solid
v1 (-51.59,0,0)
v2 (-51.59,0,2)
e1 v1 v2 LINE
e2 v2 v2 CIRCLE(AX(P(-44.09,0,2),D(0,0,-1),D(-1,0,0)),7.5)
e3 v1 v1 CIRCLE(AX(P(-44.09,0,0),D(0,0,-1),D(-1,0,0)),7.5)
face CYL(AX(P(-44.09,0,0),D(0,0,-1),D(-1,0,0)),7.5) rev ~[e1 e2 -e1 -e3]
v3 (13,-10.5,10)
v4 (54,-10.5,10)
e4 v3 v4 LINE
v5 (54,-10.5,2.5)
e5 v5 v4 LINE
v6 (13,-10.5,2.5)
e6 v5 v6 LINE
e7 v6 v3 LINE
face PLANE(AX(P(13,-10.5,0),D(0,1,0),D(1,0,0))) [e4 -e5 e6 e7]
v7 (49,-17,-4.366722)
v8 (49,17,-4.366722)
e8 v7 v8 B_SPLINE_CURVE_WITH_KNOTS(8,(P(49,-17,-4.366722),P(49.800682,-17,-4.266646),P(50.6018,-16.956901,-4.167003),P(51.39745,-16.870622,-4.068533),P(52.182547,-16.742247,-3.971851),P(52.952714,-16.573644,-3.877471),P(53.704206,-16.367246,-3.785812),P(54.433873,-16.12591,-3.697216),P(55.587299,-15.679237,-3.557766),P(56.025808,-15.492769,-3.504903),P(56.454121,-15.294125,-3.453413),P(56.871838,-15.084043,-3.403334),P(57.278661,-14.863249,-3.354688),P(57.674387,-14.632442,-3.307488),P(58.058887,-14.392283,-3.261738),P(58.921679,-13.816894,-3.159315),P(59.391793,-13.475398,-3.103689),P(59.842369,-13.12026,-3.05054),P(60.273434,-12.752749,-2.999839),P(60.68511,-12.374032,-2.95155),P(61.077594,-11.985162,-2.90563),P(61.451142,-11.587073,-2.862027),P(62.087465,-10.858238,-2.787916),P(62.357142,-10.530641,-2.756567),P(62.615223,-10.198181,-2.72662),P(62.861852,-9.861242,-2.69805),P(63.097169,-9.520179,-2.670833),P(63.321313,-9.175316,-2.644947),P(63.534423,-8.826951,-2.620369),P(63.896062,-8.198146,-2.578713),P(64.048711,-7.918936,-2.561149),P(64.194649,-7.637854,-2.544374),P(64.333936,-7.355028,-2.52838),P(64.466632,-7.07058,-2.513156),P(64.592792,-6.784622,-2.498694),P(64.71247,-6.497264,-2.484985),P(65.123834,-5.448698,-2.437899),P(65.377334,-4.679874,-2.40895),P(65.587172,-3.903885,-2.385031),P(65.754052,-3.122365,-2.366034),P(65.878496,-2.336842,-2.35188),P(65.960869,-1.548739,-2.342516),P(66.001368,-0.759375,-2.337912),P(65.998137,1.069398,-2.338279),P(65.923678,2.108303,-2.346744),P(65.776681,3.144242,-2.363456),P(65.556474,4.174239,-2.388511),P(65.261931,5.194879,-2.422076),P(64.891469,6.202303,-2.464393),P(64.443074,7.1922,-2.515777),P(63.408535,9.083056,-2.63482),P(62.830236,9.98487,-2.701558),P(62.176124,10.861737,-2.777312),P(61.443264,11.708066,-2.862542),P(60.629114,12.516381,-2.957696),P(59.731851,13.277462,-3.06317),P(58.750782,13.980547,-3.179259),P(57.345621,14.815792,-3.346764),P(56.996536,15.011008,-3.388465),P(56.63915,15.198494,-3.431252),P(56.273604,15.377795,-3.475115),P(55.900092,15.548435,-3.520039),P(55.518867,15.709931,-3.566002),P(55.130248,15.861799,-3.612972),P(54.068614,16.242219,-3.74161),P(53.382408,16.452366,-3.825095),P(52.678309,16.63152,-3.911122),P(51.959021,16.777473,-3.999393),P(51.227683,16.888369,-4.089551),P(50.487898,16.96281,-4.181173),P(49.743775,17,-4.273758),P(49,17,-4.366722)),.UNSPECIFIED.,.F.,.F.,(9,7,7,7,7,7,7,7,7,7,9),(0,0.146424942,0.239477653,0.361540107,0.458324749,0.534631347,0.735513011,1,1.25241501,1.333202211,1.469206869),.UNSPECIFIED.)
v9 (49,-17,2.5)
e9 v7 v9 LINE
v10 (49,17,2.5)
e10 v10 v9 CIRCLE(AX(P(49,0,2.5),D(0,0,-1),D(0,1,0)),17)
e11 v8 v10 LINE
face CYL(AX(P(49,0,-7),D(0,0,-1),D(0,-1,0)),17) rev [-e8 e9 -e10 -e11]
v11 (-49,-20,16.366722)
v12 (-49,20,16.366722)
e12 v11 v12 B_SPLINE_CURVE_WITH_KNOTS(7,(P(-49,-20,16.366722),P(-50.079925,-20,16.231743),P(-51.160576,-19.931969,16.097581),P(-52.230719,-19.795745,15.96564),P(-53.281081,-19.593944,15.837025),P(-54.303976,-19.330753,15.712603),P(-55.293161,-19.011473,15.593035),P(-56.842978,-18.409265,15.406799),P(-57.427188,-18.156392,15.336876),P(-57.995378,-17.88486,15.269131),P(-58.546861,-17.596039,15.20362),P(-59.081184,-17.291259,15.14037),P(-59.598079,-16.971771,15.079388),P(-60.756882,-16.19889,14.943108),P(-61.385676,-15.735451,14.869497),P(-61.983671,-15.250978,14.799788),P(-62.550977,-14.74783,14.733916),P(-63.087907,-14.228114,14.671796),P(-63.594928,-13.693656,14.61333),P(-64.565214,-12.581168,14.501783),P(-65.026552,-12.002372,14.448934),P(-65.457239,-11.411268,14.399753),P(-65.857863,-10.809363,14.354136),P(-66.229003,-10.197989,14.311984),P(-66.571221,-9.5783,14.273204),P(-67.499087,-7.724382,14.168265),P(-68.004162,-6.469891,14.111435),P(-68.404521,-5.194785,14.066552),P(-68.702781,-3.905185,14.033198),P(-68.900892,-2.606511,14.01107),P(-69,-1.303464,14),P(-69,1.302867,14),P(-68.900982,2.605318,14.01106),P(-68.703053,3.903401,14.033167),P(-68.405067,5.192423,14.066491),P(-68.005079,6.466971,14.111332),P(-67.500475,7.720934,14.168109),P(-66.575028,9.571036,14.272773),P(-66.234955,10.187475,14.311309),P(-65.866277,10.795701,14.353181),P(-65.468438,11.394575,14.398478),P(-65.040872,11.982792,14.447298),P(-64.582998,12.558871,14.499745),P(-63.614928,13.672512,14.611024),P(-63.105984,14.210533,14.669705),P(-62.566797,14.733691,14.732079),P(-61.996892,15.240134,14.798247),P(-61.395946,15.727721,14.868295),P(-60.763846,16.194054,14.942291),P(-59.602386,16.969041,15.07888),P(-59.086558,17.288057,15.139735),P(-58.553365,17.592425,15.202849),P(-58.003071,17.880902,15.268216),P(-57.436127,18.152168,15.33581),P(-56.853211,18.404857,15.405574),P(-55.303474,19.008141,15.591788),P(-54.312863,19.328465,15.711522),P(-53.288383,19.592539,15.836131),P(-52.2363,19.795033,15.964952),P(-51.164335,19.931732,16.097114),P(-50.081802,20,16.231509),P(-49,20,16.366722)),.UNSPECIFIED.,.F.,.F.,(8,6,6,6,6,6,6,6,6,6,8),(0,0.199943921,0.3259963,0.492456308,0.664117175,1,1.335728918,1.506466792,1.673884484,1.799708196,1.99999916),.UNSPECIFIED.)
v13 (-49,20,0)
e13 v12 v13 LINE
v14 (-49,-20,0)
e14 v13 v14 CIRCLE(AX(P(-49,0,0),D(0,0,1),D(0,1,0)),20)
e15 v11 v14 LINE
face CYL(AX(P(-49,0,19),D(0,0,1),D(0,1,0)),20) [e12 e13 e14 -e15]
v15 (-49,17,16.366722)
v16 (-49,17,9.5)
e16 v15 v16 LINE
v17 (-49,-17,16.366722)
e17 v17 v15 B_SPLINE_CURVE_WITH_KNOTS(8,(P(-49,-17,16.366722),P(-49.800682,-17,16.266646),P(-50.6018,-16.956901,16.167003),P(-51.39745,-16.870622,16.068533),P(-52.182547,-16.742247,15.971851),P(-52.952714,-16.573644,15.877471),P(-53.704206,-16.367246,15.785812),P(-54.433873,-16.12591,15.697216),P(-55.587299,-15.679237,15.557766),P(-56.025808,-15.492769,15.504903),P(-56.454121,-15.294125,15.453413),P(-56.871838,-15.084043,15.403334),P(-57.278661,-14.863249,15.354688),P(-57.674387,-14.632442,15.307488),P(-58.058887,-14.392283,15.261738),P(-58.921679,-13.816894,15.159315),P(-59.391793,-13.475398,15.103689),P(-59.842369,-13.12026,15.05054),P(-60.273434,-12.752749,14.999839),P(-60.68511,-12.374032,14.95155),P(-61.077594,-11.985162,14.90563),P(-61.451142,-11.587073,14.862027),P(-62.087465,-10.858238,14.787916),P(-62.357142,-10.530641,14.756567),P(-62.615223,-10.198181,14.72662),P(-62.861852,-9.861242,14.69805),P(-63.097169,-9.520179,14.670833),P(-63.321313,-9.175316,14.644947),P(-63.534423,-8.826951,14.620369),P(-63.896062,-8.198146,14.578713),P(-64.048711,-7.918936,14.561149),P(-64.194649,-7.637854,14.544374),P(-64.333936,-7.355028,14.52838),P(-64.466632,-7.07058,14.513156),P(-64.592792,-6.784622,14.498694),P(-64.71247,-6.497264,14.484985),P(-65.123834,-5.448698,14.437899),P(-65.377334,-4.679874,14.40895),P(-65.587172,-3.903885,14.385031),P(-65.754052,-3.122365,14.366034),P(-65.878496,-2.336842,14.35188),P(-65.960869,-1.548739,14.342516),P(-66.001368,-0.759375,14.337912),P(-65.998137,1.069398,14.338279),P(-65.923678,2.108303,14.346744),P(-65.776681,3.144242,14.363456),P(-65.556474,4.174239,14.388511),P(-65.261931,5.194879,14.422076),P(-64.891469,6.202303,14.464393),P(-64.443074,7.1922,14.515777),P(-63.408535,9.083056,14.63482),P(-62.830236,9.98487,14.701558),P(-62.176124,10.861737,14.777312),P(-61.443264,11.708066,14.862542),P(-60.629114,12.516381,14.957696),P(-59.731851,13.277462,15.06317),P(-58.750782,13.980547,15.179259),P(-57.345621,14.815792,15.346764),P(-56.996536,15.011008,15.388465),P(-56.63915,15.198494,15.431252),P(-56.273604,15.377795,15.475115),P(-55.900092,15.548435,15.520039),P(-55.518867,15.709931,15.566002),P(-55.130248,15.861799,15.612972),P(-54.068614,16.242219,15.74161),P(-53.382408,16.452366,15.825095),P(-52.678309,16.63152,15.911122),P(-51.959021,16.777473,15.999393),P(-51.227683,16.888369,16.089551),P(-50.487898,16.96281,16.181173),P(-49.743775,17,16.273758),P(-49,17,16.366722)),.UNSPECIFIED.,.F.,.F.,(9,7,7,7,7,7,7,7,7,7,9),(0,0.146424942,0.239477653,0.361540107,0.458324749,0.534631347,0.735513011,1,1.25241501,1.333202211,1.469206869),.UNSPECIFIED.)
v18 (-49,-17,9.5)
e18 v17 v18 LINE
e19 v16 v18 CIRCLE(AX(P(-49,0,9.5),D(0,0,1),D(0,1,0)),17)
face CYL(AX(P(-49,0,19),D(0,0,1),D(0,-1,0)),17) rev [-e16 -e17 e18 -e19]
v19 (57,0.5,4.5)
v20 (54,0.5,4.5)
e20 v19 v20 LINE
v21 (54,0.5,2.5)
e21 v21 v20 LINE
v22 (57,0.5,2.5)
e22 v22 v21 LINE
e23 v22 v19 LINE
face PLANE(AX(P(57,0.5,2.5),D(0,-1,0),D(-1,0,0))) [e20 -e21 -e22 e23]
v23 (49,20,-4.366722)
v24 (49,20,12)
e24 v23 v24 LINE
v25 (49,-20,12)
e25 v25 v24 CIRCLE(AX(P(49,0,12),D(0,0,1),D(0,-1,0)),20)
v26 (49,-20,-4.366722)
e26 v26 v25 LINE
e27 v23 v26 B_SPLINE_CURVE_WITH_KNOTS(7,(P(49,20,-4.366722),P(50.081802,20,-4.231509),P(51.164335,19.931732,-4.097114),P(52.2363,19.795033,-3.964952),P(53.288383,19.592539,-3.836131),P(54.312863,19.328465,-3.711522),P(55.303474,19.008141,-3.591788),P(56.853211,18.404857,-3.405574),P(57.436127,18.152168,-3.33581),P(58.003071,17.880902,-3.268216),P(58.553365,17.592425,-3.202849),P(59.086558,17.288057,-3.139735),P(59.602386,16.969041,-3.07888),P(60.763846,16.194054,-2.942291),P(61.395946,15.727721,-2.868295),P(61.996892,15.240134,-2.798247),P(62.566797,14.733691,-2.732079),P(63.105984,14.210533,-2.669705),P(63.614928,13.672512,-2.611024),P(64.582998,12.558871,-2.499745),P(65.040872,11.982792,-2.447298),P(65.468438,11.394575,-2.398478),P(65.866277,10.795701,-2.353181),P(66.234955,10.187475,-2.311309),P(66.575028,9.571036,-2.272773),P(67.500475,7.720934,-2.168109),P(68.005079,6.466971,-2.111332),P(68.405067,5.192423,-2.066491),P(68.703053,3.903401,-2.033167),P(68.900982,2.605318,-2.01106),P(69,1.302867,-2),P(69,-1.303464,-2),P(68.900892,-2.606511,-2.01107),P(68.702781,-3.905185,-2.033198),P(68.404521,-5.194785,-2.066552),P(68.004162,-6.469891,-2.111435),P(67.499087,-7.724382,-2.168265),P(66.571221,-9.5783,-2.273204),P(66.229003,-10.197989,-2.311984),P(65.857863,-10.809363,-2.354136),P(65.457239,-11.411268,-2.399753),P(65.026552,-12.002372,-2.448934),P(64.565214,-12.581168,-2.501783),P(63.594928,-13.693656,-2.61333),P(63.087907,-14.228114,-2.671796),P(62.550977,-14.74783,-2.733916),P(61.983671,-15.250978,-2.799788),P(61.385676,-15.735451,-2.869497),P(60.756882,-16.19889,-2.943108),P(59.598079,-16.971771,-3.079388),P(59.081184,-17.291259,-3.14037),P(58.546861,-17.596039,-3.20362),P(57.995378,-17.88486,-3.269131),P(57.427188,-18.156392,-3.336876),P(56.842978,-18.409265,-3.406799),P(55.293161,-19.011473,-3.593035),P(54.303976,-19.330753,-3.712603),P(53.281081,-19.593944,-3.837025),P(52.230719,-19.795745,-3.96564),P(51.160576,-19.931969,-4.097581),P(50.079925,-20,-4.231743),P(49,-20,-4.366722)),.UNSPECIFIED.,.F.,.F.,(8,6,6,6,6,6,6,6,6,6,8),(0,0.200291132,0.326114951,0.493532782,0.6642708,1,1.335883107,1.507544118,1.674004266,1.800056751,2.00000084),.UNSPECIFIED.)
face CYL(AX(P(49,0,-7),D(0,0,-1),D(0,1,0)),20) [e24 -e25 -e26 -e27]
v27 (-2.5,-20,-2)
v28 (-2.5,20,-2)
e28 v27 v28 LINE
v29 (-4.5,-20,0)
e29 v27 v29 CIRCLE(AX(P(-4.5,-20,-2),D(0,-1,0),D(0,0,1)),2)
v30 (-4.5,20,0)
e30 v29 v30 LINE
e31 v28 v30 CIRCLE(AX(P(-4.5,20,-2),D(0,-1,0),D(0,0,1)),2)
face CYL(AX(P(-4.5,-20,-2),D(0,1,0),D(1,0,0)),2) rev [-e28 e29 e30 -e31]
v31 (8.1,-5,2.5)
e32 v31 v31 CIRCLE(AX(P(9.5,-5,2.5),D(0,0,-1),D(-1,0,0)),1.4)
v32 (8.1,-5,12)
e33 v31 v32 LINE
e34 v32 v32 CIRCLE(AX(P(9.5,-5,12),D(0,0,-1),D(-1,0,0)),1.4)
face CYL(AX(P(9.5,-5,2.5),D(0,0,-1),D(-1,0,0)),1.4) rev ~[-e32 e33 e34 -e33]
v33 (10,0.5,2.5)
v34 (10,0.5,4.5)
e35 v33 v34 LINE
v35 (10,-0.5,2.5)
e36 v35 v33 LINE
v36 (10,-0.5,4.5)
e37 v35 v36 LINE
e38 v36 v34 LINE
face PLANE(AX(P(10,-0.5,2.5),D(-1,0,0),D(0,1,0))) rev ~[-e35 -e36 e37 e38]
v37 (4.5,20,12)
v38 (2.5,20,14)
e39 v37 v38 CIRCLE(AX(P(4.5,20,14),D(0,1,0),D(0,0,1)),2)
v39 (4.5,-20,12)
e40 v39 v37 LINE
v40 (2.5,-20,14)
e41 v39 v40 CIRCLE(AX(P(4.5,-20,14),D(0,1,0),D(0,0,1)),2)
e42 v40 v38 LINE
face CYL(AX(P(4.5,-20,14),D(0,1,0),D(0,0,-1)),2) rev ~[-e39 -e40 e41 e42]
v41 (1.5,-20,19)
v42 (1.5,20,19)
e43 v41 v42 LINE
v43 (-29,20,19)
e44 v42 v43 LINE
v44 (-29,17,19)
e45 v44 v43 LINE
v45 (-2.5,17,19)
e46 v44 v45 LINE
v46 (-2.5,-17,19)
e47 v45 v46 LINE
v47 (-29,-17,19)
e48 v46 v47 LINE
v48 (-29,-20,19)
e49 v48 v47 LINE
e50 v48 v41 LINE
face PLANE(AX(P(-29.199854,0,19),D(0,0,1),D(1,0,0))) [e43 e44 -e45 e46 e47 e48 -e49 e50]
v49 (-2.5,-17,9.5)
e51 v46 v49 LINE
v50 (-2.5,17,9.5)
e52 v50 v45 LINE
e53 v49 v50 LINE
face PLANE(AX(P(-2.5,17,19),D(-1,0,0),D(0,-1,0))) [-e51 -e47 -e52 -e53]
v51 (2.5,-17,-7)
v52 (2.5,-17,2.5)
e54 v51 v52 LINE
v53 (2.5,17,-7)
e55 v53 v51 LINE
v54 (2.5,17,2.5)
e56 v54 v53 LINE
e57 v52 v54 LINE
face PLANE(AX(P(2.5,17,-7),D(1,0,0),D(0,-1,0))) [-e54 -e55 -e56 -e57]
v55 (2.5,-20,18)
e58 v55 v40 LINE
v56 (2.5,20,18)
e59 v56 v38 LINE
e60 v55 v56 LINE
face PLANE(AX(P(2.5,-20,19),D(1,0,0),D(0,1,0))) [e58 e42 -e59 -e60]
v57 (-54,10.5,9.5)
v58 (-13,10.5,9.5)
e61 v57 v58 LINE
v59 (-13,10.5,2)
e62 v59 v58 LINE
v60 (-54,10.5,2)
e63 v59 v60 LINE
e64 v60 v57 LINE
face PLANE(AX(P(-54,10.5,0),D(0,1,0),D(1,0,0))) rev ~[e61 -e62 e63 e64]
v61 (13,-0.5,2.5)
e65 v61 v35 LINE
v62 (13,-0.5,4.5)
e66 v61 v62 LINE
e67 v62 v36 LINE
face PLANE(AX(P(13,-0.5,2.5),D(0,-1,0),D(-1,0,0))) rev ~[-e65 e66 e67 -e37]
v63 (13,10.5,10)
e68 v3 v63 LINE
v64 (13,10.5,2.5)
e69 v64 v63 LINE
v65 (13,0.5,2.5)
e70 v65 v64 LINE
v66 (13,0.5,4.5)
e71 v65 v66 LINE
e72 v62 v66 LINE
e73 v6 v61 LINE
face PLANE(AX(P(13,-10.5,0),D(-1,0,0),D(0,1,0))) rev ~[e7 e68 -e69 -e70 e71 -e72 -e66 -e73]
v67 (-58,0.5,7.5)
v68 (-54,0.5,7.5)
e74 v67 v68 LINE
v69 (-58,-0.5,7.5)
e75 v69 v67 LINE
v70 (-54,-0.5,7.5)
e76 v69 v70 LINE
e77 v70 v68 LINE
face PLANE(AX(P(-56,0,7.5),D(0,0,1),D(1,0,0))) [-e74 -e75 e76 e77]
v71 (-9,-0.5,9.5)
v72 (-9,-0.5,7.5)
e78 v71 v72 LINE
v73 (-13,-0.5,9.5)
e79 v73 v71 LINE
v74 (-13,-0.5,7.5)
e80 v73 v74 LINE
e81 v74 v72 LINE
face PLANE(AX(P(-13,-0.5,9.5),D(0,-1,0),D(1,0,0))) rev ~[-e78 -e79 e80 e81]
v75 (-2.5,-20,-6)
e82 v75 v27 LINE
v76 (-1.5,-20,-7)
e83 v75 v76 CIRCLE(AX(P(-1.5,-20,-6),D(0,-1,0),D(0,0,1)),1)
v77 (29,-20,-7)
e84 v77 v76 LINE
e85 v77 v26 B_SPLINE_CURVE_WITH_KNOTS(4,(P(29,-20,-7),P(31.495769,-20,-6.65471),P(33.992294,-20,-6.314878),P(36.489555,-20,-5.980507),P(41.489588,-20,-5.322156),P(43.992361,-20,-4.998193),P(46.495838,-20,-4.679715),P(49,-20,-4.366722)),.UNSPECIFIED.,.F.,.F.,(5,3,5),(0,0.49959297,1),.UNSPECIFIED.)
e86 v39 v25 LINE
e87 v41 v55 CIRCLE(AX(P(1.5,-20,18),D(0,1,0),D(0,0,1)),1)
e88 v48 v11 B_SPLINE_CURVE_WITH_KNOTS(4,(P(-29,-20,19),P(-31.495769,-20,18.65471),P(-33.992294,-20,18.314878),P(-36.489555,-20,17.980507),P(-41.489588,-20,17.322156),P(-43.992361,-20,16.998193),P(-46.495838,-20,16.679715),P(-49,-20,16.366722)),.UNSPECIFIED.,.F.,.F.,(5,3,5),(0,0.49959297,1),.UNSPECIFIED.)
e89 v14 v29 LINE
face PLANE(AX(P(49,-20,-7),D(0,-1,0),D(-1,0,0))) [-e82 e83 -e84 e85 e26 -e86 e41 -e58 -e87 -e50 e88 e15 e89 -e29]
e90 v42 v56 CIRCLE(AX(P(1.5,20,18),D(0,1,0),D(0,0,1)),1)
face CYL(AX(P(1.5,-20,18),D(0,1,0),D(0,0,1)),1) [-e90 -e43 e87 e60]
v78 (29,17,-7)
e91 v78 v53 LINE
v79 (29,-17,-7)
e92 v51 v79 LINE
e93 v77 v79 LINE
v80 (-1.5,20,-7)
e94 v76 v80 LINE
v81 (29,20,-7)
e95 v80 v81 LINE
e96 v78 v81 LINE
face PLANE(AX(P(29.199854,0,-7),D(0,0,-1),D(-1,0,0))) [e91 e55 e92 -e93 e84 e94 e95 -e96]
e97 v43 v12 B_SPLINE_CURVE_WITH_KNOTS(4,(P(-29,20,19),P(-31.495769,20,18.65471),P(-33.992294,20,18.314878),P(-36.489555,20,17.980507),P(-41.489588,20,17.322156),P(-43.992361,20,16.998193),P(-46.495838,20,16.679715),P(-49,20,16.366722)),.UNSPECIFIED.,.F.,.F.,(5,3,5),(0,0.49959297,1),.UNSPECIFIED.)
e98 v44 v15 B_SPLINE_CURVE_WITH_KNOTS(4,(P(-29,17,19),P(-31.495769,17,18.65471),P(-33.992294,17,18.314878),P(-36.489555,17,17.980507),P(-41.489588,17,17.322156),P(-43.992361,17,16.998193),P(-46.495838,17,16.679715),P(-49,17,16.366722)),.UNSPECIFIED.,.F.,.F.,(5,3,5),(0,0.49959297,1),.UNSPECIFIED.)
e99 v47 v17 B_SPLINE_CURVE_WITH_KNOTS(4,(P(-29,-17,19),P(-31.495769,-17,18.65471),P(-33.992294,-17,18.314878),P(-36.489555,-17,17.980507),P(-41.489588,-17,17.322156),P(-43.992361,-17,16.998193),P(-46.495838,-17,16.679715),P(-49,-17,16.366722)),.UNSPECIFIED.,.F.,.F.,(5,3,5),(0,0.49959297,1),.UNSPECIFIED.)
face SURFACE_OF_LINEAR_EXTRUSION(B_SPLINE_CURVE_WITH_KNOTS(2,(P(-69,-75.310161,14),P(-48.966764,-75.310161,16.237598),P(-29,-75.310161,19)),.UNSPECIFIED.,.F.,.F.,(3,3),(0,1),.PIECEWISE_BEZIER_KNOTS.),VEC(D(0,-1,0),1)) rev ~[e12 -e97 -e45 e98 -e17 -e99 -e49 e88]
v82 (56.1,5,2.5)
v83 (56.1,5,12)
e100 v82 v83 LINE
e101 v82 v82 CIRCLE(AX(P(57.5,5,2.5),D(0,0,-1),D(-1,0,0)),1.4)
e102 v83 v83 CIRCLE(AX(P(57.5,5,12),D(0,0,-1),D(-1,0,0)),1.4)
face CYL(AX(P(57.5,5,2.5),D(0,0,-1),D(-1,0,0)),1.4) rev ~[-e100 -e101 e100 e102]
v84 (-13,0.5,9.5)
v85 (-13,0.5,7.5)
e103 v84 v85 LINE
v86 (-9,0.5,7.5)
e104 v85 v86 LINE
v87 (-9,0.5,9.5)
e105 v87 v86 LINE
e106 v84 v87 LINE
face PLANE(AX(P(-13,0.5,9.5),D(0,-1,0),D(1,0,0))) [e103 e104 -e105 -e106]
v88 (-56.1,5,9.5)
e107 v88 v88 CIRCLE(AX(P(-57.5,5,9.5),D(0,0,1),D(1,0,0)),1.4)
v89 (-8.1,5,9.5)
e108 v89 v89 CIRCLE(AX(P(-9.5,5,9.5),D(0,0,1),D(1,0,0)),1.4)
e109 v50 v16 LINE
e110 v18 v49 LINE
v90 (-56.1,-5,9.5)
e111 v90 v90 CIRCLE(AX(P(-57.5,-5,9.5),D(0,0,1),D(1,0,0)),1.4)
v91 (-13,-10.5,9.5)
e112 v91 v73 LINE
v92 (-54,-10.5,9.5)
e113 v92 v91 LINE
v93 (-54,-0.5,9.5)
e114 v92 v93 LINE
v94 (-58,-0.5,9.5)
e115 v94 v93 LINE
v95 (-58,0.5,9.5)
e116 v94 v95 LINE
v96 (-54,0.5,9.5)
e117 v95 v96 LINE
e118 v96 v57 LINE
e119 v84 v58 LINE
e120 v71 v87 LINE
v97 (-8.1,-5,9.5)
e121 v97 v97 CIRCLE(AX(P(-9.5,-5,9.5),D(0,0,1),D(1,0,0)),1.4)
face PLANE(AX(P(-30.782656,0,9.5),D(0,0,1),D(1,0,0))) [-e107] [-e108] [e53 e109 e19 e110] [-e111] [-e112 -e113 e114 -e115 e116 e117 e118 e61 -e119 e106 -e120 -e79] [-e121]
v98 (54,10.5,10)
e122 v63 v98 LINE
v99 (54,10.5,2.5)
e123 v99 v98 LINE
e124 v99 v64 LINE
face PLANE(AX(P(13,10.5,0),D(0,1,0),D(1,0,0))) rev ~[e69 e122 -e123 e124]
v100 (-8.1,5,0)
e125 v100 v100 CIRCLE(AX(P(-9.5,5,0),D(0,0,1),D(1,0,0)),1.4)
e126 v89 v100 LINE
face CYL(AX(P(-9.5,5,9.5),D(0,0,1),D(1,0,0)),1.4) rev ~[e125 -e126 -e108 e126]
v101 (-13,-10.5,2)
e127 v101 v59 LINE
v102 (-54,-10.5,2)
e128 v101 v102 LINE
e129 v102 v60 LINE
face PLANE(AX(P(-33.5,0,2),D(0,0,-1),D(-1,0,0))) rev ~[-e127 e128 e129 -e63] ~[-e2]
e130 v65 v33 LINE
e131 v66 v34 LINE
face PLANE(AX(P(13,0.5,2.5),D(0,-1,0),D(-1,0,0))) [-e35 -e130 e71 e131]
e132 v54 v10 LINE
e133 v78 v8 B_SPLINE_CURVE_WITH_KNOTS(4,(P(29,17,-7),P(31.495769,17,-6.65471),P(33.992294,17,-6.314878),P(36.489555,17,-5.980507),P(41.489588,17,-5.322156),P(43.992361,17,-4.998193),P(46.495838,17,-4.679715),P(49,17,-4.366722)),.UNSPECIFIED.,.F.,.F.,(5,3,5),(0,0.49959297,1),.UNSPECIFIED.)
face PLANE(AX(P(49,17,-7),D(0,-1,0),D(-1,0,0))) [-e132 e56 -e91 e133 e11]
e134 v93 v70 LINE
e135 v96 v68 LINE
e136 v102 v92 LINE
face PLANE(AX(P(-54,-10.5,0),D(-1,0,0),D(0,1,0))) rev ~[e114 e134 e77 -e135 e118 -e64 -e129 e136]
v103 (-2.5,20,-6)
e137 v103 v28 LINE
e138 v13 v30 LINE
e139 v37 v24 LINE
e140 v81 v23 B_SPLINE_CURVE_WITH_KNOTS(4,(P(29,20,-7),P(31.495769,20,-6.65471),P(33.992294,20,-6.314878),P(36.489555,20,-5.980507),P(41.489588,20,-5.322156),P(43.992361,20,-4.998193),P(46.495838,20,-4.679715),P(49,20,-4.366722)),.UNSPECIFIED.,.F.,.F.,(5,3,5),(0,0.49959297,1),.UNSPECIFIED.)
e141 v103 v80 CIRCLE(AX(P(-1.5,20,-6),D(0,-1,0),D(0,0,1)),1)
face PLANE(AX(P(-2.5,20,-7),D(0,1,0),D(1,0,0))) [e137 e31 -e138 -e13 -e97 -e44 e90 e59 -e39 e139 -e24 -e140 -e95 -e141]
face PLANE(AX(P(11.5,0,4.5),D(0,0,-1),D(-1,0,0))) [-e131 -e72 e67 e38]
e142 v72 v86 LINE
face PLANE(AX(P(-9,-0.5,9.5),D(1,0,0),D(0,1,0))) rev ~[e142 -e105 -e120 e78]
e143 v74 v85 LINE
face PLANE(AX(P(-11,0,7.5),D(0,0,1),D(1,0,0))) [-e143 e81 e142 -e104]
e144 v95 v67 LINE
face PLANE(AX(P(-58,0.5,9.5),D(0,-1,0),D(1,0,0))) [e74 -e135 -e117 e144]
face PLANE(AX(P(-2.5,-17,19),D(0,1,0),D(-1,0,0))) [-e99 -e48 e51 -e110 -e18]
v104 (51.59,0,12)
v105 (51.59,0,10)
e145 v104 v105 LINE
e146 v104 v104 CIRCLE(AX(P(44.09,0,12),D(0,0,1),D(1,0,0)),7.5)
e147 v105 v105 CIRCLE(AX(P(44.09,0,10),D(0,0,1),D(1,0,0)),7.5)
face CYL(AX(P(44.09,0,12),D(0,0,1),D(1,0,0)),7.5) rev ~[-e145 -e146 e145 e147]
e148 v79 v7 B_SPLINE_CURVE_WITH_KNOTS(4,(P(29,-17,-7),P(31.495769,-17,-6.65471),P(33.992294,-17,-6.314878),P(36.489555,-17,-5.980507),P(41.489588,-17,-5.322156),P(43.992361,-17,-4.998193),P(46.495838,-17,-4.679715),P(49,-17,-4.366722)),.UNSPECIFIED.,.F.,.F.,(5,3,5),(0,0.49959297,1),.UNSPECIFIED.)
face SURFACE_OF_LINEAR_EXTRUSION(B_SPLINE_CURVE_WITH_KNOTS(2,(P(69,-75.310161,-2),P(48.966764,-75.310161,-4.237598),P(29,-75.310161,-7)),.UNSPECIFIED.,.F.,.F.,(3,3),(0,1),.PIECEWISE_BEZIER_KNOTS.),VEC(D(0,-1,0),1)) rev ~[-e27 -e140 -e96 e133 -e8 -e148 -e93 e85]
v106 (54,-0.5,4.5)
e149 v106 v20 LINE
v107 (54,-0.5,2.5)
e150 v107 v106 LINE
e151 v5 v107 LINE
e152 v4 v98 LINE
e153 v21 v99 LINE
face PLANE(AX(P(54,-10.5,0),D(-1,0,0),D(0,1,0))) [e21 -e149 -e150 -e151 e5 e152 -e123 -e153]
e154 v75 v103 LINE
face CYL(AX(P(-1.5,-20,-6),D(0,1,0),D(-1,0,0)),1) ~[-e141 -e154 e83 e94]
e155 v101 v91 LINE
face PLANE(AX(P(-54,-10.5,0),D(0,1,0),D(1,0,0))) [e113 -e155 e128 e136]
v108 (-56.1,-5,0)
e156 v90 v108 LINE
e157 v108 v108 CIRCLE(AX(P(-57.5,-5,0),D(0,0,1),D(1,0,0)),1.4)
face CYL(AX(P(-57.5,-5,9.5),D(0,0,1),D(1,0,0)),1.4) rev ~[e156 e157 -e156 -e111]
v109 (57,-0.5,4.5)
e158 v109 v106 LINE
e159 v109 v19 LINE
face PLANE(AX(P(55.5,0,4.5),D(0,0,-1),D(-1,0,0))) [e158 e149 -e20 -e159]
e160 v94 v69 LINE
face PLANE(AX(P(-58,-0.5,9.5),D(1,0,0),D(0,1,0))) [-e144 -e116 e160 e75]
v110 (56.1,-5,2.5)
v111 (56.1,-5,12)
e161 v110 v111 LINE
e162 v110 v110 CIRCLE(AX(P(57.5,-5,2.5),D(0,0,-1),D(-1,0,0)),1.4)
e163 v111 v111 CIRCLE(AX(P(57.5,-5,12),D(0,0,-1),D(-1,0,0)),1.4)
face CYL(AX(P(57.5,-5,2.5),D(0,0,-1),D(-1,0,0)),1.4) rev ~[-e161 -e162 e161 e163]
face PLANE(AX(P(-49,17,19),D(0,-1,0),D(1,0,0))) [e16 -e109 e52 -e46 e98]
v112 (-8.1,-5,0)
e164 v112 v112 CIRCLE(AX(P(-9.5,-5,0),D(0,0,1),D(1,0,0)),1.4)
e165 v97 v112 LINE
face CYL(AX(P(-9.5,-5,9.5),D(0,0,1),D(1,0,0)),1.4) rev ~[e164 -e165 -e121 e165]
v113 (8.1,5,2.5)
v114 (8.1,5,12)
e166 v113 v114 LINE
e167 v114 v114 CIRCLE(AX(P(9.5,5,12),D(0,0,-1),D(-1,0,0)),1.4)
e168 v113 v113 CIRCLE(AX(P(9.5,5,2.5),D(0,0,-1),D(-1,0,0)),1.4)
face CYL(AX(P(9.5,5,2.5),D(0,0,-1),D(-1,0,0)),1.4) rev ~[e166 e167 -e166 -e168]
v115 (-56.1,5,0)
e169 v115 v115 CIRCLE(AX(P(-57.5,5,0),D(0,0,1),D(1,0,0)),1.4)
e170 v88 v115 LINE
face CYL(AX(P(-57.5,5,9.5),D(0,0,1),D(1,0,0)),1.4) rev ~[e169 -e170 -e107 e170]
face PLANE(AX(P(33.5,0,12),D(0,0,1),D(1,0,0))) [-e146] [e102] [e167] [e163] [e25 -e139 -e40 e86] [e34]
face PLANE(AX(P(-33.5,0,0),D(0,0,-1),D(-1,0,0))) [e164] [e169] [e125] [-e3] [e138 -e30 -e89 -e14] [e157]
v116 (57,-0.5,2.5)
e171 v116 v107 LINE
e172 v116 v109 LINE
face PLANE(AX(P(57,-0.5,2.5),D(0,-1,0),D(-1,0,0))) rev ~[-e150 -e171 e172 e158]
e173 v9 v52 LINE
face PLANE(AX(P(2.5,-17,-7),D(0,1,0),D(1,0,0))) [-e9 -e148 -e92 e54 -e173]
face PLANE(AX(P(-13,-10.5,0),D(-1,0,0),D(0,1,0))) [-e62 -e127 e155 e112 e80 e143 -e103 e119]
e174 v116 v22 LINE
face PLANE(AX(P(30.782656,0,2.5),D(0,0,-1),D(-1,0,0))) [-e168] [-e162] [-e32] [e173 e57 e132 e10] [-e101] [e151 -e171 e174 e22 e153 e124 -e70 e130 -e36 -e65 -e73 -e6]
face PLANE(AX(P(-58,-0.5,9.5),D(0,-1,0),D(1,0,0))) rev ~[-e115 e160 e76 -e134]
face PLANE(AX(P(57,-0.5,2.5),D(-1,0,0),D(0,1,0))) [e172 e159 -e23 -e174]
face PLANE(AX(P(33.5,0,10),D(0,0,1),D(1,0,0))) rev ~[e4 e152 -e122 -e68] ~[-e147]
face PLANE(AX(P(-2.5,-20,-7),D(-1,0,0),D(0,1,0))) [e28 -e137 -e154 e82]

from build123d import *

# Parameters (mm, degrees)
SKETCH1_W               = 138
SKETCH1_H               = 40
SKETCH1_W_2             = 41
SKETCH1_H_2             = 21
BOSS_EXTRUDE1_DEPTH     = 12
FILLET1_RADIUS          = 20
FILLET1_LENGTH          = 12
FILLET2_RADIUS          = 20
FILLET2_LENGTH          = 12
BOSS_EXTRUDE3_START     = 7
BOSS_EXTRUDE3_DEPTH     = 7
BOSS_EXTRUDE4_START     = 7
BOSS_EXTRUDE4_DEPTH     = 7
CUT_EXTRUDE1_DEPTH      = 75.310160813
CUT_EXTRUDE1_DEPTH_BACK = 75.310160813
CUT_EXTRUDE2_DEPTH      = 2.5
SKETCH9_W               = 41
SKETCH9_H               = 21
CUT_EXTRUDE3_DEPTH      = 2.5
SKETCH10_W              = 41
SKETCH10_H              = 21
SKETCH10_R              = 7.5
BOSS_EXTRUDE5_DEPTH     = 2
SKETCH11_W              = 41
SKETCH11_H              = 21
SKETCH11_R              = 7.5
BOSS_EXTRUDE6_DEPTH     = 2
SKETCH12_W              = 4
SKETCH12_H              = 1
CUT_EXTRUDE4_DEPTH      = 2
SKETCH13_W              = 3
SKETCH13_H              = 1
CUT_EXTRUDE5_DEPTH      = 2
FILLET4_R               = 2
FILLET5_R               = 2
FILLET6_R               = 1
SKETCH14_R              = 1.4
CUT_EXTRUDE6_DEPTH      = 74.71058283
SKETCH15_R              = 1.4
CUT_EXTRUDE7_DEPTH      = 74.71058283


with BuildPart() as part:
    # Sketch1 → Boss-Extrude1 (new body)
    with BuildSketch(Plane.XY):
        Rectangle(SKETCH1_W, SKETCH1_H)
        with Locations((-33.5, 0)):
            Rectangle(SKETCH1_W_2, SKETCH1_H_2, mode=Mode.SUBTRACT)
        with Locations((33.5, 0)):
            Rectangle(SKETCH1_W_2, SKETCH1_H_2, mode=Mode.SUBTRACT)
    extrude(amount=BOSS_EXTRUDE1_DEPTH)

    # Fillet1: full round fillet: the end face becomes a half cylinder, R = half its width
    fillet1_face = Plane((-69, 0, 6), x_dir=(0, 0, 1), z_dir=(-1, 0, 0))  # on the end face: x along it, z out of the body
    fillet1_slab = fillet1_face.offset(-FILLET1_RADIUS / 2) * Box(FILLET1_LENGTH, 2 * FILLET1_RADIUS, FILLET1_RADIUS, mode=Mode.PRIVATE)  # the body's end, R deep
    fillet1_round = Plane((-49, 0, 6), x_dir=(-1, 0, 0), z_dir=(0, 0, 1)) * Cylinder(FILLET1_RADIUS, FILLET1_LENGTH, mode=Mode.PRIVATE)  # its axis R under the face
    add(fillet1_slab - fillet1_round, mode=Mode.SUBTRACT)

    # Fillet2: full round fillet: the end face becomes a half cylinder, R = half its width
    fillet2_face = Plane((69, 0, 6), x_dir=(0, 0, -1), z_dir=(1, 0, 0))  # on the end face: x along it, z out of the body
    fillet2_slab = fillet2_face.offset(-FILLET2_RADIUS / 2) * Box(FILLET2_LENGTH, 2 * FILLET2_RADIUS, FILLET2_RADIUS, mode=Mode.PRIVATE)  # the body's end, R deep
    fillet2_round = Plane((49, 0, 6), x_dir=(1, 0, 0), z_dir=(0, 0, -1)) * Cylinder(FILLET2_RADIUS, FILLET2_LENGTH, mode=Mode.PRIVATE)  # its axis R under the face
    add(fillet2_slab - fillet2_round, mode=Mode.SUBTRACT)

    # Sketch3 → Boss-Extrude3 (add)
    with BuildSketch(Plane.XY.offset(12).offset(BOSS_EXTRUDE3_START)):
        with BuildLine():
            Line((-49, -20), (-2.5, -20))
            Line((-2.5, -20), (2.5, -20))
            Line((2.5, -20), (2.5, 20))
            Line((2.5, 20), (-2.5, 20))
            Line((-2.5, 20), (-49, 20))
            ThreePointArc((-49, 20), (-69, 0), (-49, -20))
        make_face()
        with BuildLine():
            Line((-2.5, 17), (-2.5, -17))
            Line((-2.5, -17), (-49, -17))
            ThreePointArc((-49, -17), (-66, 0), (-49, 17))
            Line((-49, 17), (-2.5, 17))
        make_face(mode=Mode.SUBTRACT)
    extrude(amount=-BOSS_EXTRUDE3_DEPTH)

    # Sketch5 → Boss-Extrude4 (add)
    with BuildSketch(Plane(origin=(0, 0, 0), x_dir=(-1, 0, 0), z_dir=(0, 0, -1)).offset(BOSS_EXTRUDE4_START)):
        with BuildLine():
            Line((-49, -20), (-2.5, -20))
            Line((-2.5, -20), (2.5, -20))
            Line((2.5, -20), (2.5, 20))
            Line((2.5, 20), (-2.5, 20))
            Line((-2.5, 20), (-49, 20))
            ThreePointArc((-49, 20), (-69, 0), (-49, -20))
        make_face()
        with BuildLine():
            Line((-2.5, 17), (-2.5, -17))
            Line((-2.5, -17), (-49, -17))
            ThreePointArc((-49, -17), (-66, 0), (-49, 17))
            Line((-49, 17), (-2.5, 17))
        make_face(mode=Mode.SUBTRACT)
    extrude(amount=-BOSS_EXTRUDE4_DEPTH)

    # Sketch6 → Cut-Extrude1 (cut, two sides: drawn at the far end of the back side and taken through both)
    with BuildSketch(Plane(origin=(0, 0, 0), x_dir=(1, 0, 0), z_dir=(0, 1, 0)).offset(-CUT_EXTRUDE1_DEPTH_BACK)):
        with BuildLine():
            Line((-69, -19), (-29, -19))
            add(Edge.make_bspline(
                [(-69, -14), (-48.966763925, -16.237598457), (-29, -19)],
                knots=[0, 0, 0, 1, 1, 1], degree=2))
            Line((-69, -14), (-69, -19))
        make_face()
        with BuildLine():
            Line((69, 7), (29, 7))
            add(Edge.make_bspline(
                [(69, 2), (48.966763925, 4.237598457), (29, 7)],
                knots=[0, 0, 0, 1, 1, 1], degree=2))
            Line((69, 2), (69, 7))
        make_face()
    extrude(amount=CUT_EXTRUDE1_DEPTH + CUT_EXTRUDE1_DEPTH_BACK, mode=Mode.SUBTRACT)

    # Sketch8 → Cut-Extrude2 (cut)
    with BuildSketch(Plane.XY.offset(12)):
        with BuildLine():
            Line((-49, -17), (-2.5, -17))
            Line((-2.5, -17), (-2.5, 17))
            Line((-2.5, 17), (-29, 17))
            Line((-29, 17), (-49, 17))
            ThreePointArc((-49, 17), (-66, 0), (-49, -17))
        make_face()
    extrude(amount=-CUT_EXTRUDE2_DEPTH, mode=Mode.SUBTRACT)

    # Sketch9 → Cut-Extrude3 (cut)
    with BuildSketch(Plane(origin=(0, 0, 0), x_dir=(-1, 0, 0), z_dir=(0, 0, -1))):
        with BuildLine():
            ThreePointArc((-49, 17), (-66, 0), (-49, -17))
            Line((-49, -17), (-2.5, -17))
            Line((-2.5, -17), (-2.5, 17))
            Line((-2.5, 17), (-29, 17))
            Line((-29, 17), (-49, 17))
        make_face()
        with Locations((-33.5, 0)):
            Rectangle(SKETCH9_W, SKETCH9_H, mode=Mode.SUBTRACT)
    extrude(amount=-CUT_EXTRUDE3_DEPTH, mode=Mode.SUBTRACT)

    # Sketch10 → Boss-Extrude5 (add)
    with BuildSketch(Plane.XY.offset(12)):
        with Locations((33.5, 0)):
            Rectangle(SKETCH10_W, SKETCH10_H)
        with Locations((44.09, 0)):
            Circle(SKETCH10_R, mode=Mode.SUBTRACT)
    extrude(amount=-BOSS_EXTRUDE5_DEPTH)

    # Sketch11 → Boss-Extrude6 (add)
    with BuildSketch(Plane(origin=(0, 0, 0), x_dir=(-1, 0, 0), z_dir=(0, 0, -1))):
        with Locations((33.5, 0)):
            Rectangle(SKETCH11_W, SKETCH11_H)
        with Locations((44.09, 0)):
            Circle(SKETCH11_R, mode=Mode.SUBTRACT)
    extrude(amount=-BOSS_EXTRUDE6_DEPTH)

    # Sketch12 → Cut-Extrude4 (cut)
    with BuildSketch(Plane.XY.offset(9.5)):
        with Locations((-56, 0)):
            Rectangle(SKETCH12_W, SKETCH12_H)
        with Locations((-11, 0)):
            Rectangle(SKETCH12_W, SKETCH12_H)
    extrude(amount=-CUT_EXTRUDE4_DEPTH, mode=Mode.SUBTRACT)

    # Sketch13 → Cut-Extrude5 (cut)
    with BuildSketch(Plane(origin=(0, 0, 2.5), x_dir=(-1, 0, 0), z_dir=(0, 0, -1))):
        with Locations((-55.5, 0)):
            Rectangle(SKETCH13_W, SKETCH13_H)
        with Locations((-11.5, 0)):
            Rectangle(SKETCH13_W, SKETCH13_H)
    extrude(amount=-CUT_EXTRUDE5_DEPTH, mode=Mode.SUBTRACT)

    # Fillet4
    fillet4_edges = [part.edges().sort_by_distance(p)[0] for p in [
        (2.5, 0, 12),
    ]]
    fillet(fillet4_edges, radius=FILLET4_R)

    # Fillet5
    fillet5_edges = [part.edges().sort_by_distance(p)[0] for p in [
        (-2.5, 0, 0),
    ]]
    fillet(fillet5_edges, radius=FILLET5_R)

    # Fillet6
    fillet6_edges = [part.edges().sort_by_distance(p)[0] for p in [
        (2.5, 0, 19),
        (-2.5, 0, -7),
    ]]
    fillet(fillet6_edges, radius=FILLET6_R)

    # Sketch14 → Cut-Extrude6 (cut, through all)
    with BuildSketch(Plane(origin=(0, 0, 2.5), x_dir=(-1, 0, 0), z_dir=(0, 0, -1))):
        with Locations((-57.5, 5)):
            Circle(SKETCH14_R)
        with Locations((-57.5, -5)):
            Circle(SKETCH14_R)
        with Locations((-9.5, 5)):
            Circle(SKETCH14_R)
        with Locations((-9.5, -5)):
            Circle(SKETCH14_R)
    extrude(amount=-CUT_EXTRUDE6_DEPTH, mode=Mode.SUBTRACT)

    # Sketch15 → Cut-Extrude7 (cut, through all)
    with BuildSketch(Plane.XY.offset(9.5)):
        with Locations((-57.5, 5)):
            Circle(SKETCH15_R)
        with Locations((-57.5, -5)):
            Circle(SKETCH15_R)
        with Locations((-9.5, -5)):
            Circle(SKETCH15_R)
        with Locations((-9.5, 5)):
            Circle(SKETCH15_R)
    extrude(amount=-CUT_EXTRUDE7_DEPTH, mode=Mode.SUBTRACT)


solid = part.part
